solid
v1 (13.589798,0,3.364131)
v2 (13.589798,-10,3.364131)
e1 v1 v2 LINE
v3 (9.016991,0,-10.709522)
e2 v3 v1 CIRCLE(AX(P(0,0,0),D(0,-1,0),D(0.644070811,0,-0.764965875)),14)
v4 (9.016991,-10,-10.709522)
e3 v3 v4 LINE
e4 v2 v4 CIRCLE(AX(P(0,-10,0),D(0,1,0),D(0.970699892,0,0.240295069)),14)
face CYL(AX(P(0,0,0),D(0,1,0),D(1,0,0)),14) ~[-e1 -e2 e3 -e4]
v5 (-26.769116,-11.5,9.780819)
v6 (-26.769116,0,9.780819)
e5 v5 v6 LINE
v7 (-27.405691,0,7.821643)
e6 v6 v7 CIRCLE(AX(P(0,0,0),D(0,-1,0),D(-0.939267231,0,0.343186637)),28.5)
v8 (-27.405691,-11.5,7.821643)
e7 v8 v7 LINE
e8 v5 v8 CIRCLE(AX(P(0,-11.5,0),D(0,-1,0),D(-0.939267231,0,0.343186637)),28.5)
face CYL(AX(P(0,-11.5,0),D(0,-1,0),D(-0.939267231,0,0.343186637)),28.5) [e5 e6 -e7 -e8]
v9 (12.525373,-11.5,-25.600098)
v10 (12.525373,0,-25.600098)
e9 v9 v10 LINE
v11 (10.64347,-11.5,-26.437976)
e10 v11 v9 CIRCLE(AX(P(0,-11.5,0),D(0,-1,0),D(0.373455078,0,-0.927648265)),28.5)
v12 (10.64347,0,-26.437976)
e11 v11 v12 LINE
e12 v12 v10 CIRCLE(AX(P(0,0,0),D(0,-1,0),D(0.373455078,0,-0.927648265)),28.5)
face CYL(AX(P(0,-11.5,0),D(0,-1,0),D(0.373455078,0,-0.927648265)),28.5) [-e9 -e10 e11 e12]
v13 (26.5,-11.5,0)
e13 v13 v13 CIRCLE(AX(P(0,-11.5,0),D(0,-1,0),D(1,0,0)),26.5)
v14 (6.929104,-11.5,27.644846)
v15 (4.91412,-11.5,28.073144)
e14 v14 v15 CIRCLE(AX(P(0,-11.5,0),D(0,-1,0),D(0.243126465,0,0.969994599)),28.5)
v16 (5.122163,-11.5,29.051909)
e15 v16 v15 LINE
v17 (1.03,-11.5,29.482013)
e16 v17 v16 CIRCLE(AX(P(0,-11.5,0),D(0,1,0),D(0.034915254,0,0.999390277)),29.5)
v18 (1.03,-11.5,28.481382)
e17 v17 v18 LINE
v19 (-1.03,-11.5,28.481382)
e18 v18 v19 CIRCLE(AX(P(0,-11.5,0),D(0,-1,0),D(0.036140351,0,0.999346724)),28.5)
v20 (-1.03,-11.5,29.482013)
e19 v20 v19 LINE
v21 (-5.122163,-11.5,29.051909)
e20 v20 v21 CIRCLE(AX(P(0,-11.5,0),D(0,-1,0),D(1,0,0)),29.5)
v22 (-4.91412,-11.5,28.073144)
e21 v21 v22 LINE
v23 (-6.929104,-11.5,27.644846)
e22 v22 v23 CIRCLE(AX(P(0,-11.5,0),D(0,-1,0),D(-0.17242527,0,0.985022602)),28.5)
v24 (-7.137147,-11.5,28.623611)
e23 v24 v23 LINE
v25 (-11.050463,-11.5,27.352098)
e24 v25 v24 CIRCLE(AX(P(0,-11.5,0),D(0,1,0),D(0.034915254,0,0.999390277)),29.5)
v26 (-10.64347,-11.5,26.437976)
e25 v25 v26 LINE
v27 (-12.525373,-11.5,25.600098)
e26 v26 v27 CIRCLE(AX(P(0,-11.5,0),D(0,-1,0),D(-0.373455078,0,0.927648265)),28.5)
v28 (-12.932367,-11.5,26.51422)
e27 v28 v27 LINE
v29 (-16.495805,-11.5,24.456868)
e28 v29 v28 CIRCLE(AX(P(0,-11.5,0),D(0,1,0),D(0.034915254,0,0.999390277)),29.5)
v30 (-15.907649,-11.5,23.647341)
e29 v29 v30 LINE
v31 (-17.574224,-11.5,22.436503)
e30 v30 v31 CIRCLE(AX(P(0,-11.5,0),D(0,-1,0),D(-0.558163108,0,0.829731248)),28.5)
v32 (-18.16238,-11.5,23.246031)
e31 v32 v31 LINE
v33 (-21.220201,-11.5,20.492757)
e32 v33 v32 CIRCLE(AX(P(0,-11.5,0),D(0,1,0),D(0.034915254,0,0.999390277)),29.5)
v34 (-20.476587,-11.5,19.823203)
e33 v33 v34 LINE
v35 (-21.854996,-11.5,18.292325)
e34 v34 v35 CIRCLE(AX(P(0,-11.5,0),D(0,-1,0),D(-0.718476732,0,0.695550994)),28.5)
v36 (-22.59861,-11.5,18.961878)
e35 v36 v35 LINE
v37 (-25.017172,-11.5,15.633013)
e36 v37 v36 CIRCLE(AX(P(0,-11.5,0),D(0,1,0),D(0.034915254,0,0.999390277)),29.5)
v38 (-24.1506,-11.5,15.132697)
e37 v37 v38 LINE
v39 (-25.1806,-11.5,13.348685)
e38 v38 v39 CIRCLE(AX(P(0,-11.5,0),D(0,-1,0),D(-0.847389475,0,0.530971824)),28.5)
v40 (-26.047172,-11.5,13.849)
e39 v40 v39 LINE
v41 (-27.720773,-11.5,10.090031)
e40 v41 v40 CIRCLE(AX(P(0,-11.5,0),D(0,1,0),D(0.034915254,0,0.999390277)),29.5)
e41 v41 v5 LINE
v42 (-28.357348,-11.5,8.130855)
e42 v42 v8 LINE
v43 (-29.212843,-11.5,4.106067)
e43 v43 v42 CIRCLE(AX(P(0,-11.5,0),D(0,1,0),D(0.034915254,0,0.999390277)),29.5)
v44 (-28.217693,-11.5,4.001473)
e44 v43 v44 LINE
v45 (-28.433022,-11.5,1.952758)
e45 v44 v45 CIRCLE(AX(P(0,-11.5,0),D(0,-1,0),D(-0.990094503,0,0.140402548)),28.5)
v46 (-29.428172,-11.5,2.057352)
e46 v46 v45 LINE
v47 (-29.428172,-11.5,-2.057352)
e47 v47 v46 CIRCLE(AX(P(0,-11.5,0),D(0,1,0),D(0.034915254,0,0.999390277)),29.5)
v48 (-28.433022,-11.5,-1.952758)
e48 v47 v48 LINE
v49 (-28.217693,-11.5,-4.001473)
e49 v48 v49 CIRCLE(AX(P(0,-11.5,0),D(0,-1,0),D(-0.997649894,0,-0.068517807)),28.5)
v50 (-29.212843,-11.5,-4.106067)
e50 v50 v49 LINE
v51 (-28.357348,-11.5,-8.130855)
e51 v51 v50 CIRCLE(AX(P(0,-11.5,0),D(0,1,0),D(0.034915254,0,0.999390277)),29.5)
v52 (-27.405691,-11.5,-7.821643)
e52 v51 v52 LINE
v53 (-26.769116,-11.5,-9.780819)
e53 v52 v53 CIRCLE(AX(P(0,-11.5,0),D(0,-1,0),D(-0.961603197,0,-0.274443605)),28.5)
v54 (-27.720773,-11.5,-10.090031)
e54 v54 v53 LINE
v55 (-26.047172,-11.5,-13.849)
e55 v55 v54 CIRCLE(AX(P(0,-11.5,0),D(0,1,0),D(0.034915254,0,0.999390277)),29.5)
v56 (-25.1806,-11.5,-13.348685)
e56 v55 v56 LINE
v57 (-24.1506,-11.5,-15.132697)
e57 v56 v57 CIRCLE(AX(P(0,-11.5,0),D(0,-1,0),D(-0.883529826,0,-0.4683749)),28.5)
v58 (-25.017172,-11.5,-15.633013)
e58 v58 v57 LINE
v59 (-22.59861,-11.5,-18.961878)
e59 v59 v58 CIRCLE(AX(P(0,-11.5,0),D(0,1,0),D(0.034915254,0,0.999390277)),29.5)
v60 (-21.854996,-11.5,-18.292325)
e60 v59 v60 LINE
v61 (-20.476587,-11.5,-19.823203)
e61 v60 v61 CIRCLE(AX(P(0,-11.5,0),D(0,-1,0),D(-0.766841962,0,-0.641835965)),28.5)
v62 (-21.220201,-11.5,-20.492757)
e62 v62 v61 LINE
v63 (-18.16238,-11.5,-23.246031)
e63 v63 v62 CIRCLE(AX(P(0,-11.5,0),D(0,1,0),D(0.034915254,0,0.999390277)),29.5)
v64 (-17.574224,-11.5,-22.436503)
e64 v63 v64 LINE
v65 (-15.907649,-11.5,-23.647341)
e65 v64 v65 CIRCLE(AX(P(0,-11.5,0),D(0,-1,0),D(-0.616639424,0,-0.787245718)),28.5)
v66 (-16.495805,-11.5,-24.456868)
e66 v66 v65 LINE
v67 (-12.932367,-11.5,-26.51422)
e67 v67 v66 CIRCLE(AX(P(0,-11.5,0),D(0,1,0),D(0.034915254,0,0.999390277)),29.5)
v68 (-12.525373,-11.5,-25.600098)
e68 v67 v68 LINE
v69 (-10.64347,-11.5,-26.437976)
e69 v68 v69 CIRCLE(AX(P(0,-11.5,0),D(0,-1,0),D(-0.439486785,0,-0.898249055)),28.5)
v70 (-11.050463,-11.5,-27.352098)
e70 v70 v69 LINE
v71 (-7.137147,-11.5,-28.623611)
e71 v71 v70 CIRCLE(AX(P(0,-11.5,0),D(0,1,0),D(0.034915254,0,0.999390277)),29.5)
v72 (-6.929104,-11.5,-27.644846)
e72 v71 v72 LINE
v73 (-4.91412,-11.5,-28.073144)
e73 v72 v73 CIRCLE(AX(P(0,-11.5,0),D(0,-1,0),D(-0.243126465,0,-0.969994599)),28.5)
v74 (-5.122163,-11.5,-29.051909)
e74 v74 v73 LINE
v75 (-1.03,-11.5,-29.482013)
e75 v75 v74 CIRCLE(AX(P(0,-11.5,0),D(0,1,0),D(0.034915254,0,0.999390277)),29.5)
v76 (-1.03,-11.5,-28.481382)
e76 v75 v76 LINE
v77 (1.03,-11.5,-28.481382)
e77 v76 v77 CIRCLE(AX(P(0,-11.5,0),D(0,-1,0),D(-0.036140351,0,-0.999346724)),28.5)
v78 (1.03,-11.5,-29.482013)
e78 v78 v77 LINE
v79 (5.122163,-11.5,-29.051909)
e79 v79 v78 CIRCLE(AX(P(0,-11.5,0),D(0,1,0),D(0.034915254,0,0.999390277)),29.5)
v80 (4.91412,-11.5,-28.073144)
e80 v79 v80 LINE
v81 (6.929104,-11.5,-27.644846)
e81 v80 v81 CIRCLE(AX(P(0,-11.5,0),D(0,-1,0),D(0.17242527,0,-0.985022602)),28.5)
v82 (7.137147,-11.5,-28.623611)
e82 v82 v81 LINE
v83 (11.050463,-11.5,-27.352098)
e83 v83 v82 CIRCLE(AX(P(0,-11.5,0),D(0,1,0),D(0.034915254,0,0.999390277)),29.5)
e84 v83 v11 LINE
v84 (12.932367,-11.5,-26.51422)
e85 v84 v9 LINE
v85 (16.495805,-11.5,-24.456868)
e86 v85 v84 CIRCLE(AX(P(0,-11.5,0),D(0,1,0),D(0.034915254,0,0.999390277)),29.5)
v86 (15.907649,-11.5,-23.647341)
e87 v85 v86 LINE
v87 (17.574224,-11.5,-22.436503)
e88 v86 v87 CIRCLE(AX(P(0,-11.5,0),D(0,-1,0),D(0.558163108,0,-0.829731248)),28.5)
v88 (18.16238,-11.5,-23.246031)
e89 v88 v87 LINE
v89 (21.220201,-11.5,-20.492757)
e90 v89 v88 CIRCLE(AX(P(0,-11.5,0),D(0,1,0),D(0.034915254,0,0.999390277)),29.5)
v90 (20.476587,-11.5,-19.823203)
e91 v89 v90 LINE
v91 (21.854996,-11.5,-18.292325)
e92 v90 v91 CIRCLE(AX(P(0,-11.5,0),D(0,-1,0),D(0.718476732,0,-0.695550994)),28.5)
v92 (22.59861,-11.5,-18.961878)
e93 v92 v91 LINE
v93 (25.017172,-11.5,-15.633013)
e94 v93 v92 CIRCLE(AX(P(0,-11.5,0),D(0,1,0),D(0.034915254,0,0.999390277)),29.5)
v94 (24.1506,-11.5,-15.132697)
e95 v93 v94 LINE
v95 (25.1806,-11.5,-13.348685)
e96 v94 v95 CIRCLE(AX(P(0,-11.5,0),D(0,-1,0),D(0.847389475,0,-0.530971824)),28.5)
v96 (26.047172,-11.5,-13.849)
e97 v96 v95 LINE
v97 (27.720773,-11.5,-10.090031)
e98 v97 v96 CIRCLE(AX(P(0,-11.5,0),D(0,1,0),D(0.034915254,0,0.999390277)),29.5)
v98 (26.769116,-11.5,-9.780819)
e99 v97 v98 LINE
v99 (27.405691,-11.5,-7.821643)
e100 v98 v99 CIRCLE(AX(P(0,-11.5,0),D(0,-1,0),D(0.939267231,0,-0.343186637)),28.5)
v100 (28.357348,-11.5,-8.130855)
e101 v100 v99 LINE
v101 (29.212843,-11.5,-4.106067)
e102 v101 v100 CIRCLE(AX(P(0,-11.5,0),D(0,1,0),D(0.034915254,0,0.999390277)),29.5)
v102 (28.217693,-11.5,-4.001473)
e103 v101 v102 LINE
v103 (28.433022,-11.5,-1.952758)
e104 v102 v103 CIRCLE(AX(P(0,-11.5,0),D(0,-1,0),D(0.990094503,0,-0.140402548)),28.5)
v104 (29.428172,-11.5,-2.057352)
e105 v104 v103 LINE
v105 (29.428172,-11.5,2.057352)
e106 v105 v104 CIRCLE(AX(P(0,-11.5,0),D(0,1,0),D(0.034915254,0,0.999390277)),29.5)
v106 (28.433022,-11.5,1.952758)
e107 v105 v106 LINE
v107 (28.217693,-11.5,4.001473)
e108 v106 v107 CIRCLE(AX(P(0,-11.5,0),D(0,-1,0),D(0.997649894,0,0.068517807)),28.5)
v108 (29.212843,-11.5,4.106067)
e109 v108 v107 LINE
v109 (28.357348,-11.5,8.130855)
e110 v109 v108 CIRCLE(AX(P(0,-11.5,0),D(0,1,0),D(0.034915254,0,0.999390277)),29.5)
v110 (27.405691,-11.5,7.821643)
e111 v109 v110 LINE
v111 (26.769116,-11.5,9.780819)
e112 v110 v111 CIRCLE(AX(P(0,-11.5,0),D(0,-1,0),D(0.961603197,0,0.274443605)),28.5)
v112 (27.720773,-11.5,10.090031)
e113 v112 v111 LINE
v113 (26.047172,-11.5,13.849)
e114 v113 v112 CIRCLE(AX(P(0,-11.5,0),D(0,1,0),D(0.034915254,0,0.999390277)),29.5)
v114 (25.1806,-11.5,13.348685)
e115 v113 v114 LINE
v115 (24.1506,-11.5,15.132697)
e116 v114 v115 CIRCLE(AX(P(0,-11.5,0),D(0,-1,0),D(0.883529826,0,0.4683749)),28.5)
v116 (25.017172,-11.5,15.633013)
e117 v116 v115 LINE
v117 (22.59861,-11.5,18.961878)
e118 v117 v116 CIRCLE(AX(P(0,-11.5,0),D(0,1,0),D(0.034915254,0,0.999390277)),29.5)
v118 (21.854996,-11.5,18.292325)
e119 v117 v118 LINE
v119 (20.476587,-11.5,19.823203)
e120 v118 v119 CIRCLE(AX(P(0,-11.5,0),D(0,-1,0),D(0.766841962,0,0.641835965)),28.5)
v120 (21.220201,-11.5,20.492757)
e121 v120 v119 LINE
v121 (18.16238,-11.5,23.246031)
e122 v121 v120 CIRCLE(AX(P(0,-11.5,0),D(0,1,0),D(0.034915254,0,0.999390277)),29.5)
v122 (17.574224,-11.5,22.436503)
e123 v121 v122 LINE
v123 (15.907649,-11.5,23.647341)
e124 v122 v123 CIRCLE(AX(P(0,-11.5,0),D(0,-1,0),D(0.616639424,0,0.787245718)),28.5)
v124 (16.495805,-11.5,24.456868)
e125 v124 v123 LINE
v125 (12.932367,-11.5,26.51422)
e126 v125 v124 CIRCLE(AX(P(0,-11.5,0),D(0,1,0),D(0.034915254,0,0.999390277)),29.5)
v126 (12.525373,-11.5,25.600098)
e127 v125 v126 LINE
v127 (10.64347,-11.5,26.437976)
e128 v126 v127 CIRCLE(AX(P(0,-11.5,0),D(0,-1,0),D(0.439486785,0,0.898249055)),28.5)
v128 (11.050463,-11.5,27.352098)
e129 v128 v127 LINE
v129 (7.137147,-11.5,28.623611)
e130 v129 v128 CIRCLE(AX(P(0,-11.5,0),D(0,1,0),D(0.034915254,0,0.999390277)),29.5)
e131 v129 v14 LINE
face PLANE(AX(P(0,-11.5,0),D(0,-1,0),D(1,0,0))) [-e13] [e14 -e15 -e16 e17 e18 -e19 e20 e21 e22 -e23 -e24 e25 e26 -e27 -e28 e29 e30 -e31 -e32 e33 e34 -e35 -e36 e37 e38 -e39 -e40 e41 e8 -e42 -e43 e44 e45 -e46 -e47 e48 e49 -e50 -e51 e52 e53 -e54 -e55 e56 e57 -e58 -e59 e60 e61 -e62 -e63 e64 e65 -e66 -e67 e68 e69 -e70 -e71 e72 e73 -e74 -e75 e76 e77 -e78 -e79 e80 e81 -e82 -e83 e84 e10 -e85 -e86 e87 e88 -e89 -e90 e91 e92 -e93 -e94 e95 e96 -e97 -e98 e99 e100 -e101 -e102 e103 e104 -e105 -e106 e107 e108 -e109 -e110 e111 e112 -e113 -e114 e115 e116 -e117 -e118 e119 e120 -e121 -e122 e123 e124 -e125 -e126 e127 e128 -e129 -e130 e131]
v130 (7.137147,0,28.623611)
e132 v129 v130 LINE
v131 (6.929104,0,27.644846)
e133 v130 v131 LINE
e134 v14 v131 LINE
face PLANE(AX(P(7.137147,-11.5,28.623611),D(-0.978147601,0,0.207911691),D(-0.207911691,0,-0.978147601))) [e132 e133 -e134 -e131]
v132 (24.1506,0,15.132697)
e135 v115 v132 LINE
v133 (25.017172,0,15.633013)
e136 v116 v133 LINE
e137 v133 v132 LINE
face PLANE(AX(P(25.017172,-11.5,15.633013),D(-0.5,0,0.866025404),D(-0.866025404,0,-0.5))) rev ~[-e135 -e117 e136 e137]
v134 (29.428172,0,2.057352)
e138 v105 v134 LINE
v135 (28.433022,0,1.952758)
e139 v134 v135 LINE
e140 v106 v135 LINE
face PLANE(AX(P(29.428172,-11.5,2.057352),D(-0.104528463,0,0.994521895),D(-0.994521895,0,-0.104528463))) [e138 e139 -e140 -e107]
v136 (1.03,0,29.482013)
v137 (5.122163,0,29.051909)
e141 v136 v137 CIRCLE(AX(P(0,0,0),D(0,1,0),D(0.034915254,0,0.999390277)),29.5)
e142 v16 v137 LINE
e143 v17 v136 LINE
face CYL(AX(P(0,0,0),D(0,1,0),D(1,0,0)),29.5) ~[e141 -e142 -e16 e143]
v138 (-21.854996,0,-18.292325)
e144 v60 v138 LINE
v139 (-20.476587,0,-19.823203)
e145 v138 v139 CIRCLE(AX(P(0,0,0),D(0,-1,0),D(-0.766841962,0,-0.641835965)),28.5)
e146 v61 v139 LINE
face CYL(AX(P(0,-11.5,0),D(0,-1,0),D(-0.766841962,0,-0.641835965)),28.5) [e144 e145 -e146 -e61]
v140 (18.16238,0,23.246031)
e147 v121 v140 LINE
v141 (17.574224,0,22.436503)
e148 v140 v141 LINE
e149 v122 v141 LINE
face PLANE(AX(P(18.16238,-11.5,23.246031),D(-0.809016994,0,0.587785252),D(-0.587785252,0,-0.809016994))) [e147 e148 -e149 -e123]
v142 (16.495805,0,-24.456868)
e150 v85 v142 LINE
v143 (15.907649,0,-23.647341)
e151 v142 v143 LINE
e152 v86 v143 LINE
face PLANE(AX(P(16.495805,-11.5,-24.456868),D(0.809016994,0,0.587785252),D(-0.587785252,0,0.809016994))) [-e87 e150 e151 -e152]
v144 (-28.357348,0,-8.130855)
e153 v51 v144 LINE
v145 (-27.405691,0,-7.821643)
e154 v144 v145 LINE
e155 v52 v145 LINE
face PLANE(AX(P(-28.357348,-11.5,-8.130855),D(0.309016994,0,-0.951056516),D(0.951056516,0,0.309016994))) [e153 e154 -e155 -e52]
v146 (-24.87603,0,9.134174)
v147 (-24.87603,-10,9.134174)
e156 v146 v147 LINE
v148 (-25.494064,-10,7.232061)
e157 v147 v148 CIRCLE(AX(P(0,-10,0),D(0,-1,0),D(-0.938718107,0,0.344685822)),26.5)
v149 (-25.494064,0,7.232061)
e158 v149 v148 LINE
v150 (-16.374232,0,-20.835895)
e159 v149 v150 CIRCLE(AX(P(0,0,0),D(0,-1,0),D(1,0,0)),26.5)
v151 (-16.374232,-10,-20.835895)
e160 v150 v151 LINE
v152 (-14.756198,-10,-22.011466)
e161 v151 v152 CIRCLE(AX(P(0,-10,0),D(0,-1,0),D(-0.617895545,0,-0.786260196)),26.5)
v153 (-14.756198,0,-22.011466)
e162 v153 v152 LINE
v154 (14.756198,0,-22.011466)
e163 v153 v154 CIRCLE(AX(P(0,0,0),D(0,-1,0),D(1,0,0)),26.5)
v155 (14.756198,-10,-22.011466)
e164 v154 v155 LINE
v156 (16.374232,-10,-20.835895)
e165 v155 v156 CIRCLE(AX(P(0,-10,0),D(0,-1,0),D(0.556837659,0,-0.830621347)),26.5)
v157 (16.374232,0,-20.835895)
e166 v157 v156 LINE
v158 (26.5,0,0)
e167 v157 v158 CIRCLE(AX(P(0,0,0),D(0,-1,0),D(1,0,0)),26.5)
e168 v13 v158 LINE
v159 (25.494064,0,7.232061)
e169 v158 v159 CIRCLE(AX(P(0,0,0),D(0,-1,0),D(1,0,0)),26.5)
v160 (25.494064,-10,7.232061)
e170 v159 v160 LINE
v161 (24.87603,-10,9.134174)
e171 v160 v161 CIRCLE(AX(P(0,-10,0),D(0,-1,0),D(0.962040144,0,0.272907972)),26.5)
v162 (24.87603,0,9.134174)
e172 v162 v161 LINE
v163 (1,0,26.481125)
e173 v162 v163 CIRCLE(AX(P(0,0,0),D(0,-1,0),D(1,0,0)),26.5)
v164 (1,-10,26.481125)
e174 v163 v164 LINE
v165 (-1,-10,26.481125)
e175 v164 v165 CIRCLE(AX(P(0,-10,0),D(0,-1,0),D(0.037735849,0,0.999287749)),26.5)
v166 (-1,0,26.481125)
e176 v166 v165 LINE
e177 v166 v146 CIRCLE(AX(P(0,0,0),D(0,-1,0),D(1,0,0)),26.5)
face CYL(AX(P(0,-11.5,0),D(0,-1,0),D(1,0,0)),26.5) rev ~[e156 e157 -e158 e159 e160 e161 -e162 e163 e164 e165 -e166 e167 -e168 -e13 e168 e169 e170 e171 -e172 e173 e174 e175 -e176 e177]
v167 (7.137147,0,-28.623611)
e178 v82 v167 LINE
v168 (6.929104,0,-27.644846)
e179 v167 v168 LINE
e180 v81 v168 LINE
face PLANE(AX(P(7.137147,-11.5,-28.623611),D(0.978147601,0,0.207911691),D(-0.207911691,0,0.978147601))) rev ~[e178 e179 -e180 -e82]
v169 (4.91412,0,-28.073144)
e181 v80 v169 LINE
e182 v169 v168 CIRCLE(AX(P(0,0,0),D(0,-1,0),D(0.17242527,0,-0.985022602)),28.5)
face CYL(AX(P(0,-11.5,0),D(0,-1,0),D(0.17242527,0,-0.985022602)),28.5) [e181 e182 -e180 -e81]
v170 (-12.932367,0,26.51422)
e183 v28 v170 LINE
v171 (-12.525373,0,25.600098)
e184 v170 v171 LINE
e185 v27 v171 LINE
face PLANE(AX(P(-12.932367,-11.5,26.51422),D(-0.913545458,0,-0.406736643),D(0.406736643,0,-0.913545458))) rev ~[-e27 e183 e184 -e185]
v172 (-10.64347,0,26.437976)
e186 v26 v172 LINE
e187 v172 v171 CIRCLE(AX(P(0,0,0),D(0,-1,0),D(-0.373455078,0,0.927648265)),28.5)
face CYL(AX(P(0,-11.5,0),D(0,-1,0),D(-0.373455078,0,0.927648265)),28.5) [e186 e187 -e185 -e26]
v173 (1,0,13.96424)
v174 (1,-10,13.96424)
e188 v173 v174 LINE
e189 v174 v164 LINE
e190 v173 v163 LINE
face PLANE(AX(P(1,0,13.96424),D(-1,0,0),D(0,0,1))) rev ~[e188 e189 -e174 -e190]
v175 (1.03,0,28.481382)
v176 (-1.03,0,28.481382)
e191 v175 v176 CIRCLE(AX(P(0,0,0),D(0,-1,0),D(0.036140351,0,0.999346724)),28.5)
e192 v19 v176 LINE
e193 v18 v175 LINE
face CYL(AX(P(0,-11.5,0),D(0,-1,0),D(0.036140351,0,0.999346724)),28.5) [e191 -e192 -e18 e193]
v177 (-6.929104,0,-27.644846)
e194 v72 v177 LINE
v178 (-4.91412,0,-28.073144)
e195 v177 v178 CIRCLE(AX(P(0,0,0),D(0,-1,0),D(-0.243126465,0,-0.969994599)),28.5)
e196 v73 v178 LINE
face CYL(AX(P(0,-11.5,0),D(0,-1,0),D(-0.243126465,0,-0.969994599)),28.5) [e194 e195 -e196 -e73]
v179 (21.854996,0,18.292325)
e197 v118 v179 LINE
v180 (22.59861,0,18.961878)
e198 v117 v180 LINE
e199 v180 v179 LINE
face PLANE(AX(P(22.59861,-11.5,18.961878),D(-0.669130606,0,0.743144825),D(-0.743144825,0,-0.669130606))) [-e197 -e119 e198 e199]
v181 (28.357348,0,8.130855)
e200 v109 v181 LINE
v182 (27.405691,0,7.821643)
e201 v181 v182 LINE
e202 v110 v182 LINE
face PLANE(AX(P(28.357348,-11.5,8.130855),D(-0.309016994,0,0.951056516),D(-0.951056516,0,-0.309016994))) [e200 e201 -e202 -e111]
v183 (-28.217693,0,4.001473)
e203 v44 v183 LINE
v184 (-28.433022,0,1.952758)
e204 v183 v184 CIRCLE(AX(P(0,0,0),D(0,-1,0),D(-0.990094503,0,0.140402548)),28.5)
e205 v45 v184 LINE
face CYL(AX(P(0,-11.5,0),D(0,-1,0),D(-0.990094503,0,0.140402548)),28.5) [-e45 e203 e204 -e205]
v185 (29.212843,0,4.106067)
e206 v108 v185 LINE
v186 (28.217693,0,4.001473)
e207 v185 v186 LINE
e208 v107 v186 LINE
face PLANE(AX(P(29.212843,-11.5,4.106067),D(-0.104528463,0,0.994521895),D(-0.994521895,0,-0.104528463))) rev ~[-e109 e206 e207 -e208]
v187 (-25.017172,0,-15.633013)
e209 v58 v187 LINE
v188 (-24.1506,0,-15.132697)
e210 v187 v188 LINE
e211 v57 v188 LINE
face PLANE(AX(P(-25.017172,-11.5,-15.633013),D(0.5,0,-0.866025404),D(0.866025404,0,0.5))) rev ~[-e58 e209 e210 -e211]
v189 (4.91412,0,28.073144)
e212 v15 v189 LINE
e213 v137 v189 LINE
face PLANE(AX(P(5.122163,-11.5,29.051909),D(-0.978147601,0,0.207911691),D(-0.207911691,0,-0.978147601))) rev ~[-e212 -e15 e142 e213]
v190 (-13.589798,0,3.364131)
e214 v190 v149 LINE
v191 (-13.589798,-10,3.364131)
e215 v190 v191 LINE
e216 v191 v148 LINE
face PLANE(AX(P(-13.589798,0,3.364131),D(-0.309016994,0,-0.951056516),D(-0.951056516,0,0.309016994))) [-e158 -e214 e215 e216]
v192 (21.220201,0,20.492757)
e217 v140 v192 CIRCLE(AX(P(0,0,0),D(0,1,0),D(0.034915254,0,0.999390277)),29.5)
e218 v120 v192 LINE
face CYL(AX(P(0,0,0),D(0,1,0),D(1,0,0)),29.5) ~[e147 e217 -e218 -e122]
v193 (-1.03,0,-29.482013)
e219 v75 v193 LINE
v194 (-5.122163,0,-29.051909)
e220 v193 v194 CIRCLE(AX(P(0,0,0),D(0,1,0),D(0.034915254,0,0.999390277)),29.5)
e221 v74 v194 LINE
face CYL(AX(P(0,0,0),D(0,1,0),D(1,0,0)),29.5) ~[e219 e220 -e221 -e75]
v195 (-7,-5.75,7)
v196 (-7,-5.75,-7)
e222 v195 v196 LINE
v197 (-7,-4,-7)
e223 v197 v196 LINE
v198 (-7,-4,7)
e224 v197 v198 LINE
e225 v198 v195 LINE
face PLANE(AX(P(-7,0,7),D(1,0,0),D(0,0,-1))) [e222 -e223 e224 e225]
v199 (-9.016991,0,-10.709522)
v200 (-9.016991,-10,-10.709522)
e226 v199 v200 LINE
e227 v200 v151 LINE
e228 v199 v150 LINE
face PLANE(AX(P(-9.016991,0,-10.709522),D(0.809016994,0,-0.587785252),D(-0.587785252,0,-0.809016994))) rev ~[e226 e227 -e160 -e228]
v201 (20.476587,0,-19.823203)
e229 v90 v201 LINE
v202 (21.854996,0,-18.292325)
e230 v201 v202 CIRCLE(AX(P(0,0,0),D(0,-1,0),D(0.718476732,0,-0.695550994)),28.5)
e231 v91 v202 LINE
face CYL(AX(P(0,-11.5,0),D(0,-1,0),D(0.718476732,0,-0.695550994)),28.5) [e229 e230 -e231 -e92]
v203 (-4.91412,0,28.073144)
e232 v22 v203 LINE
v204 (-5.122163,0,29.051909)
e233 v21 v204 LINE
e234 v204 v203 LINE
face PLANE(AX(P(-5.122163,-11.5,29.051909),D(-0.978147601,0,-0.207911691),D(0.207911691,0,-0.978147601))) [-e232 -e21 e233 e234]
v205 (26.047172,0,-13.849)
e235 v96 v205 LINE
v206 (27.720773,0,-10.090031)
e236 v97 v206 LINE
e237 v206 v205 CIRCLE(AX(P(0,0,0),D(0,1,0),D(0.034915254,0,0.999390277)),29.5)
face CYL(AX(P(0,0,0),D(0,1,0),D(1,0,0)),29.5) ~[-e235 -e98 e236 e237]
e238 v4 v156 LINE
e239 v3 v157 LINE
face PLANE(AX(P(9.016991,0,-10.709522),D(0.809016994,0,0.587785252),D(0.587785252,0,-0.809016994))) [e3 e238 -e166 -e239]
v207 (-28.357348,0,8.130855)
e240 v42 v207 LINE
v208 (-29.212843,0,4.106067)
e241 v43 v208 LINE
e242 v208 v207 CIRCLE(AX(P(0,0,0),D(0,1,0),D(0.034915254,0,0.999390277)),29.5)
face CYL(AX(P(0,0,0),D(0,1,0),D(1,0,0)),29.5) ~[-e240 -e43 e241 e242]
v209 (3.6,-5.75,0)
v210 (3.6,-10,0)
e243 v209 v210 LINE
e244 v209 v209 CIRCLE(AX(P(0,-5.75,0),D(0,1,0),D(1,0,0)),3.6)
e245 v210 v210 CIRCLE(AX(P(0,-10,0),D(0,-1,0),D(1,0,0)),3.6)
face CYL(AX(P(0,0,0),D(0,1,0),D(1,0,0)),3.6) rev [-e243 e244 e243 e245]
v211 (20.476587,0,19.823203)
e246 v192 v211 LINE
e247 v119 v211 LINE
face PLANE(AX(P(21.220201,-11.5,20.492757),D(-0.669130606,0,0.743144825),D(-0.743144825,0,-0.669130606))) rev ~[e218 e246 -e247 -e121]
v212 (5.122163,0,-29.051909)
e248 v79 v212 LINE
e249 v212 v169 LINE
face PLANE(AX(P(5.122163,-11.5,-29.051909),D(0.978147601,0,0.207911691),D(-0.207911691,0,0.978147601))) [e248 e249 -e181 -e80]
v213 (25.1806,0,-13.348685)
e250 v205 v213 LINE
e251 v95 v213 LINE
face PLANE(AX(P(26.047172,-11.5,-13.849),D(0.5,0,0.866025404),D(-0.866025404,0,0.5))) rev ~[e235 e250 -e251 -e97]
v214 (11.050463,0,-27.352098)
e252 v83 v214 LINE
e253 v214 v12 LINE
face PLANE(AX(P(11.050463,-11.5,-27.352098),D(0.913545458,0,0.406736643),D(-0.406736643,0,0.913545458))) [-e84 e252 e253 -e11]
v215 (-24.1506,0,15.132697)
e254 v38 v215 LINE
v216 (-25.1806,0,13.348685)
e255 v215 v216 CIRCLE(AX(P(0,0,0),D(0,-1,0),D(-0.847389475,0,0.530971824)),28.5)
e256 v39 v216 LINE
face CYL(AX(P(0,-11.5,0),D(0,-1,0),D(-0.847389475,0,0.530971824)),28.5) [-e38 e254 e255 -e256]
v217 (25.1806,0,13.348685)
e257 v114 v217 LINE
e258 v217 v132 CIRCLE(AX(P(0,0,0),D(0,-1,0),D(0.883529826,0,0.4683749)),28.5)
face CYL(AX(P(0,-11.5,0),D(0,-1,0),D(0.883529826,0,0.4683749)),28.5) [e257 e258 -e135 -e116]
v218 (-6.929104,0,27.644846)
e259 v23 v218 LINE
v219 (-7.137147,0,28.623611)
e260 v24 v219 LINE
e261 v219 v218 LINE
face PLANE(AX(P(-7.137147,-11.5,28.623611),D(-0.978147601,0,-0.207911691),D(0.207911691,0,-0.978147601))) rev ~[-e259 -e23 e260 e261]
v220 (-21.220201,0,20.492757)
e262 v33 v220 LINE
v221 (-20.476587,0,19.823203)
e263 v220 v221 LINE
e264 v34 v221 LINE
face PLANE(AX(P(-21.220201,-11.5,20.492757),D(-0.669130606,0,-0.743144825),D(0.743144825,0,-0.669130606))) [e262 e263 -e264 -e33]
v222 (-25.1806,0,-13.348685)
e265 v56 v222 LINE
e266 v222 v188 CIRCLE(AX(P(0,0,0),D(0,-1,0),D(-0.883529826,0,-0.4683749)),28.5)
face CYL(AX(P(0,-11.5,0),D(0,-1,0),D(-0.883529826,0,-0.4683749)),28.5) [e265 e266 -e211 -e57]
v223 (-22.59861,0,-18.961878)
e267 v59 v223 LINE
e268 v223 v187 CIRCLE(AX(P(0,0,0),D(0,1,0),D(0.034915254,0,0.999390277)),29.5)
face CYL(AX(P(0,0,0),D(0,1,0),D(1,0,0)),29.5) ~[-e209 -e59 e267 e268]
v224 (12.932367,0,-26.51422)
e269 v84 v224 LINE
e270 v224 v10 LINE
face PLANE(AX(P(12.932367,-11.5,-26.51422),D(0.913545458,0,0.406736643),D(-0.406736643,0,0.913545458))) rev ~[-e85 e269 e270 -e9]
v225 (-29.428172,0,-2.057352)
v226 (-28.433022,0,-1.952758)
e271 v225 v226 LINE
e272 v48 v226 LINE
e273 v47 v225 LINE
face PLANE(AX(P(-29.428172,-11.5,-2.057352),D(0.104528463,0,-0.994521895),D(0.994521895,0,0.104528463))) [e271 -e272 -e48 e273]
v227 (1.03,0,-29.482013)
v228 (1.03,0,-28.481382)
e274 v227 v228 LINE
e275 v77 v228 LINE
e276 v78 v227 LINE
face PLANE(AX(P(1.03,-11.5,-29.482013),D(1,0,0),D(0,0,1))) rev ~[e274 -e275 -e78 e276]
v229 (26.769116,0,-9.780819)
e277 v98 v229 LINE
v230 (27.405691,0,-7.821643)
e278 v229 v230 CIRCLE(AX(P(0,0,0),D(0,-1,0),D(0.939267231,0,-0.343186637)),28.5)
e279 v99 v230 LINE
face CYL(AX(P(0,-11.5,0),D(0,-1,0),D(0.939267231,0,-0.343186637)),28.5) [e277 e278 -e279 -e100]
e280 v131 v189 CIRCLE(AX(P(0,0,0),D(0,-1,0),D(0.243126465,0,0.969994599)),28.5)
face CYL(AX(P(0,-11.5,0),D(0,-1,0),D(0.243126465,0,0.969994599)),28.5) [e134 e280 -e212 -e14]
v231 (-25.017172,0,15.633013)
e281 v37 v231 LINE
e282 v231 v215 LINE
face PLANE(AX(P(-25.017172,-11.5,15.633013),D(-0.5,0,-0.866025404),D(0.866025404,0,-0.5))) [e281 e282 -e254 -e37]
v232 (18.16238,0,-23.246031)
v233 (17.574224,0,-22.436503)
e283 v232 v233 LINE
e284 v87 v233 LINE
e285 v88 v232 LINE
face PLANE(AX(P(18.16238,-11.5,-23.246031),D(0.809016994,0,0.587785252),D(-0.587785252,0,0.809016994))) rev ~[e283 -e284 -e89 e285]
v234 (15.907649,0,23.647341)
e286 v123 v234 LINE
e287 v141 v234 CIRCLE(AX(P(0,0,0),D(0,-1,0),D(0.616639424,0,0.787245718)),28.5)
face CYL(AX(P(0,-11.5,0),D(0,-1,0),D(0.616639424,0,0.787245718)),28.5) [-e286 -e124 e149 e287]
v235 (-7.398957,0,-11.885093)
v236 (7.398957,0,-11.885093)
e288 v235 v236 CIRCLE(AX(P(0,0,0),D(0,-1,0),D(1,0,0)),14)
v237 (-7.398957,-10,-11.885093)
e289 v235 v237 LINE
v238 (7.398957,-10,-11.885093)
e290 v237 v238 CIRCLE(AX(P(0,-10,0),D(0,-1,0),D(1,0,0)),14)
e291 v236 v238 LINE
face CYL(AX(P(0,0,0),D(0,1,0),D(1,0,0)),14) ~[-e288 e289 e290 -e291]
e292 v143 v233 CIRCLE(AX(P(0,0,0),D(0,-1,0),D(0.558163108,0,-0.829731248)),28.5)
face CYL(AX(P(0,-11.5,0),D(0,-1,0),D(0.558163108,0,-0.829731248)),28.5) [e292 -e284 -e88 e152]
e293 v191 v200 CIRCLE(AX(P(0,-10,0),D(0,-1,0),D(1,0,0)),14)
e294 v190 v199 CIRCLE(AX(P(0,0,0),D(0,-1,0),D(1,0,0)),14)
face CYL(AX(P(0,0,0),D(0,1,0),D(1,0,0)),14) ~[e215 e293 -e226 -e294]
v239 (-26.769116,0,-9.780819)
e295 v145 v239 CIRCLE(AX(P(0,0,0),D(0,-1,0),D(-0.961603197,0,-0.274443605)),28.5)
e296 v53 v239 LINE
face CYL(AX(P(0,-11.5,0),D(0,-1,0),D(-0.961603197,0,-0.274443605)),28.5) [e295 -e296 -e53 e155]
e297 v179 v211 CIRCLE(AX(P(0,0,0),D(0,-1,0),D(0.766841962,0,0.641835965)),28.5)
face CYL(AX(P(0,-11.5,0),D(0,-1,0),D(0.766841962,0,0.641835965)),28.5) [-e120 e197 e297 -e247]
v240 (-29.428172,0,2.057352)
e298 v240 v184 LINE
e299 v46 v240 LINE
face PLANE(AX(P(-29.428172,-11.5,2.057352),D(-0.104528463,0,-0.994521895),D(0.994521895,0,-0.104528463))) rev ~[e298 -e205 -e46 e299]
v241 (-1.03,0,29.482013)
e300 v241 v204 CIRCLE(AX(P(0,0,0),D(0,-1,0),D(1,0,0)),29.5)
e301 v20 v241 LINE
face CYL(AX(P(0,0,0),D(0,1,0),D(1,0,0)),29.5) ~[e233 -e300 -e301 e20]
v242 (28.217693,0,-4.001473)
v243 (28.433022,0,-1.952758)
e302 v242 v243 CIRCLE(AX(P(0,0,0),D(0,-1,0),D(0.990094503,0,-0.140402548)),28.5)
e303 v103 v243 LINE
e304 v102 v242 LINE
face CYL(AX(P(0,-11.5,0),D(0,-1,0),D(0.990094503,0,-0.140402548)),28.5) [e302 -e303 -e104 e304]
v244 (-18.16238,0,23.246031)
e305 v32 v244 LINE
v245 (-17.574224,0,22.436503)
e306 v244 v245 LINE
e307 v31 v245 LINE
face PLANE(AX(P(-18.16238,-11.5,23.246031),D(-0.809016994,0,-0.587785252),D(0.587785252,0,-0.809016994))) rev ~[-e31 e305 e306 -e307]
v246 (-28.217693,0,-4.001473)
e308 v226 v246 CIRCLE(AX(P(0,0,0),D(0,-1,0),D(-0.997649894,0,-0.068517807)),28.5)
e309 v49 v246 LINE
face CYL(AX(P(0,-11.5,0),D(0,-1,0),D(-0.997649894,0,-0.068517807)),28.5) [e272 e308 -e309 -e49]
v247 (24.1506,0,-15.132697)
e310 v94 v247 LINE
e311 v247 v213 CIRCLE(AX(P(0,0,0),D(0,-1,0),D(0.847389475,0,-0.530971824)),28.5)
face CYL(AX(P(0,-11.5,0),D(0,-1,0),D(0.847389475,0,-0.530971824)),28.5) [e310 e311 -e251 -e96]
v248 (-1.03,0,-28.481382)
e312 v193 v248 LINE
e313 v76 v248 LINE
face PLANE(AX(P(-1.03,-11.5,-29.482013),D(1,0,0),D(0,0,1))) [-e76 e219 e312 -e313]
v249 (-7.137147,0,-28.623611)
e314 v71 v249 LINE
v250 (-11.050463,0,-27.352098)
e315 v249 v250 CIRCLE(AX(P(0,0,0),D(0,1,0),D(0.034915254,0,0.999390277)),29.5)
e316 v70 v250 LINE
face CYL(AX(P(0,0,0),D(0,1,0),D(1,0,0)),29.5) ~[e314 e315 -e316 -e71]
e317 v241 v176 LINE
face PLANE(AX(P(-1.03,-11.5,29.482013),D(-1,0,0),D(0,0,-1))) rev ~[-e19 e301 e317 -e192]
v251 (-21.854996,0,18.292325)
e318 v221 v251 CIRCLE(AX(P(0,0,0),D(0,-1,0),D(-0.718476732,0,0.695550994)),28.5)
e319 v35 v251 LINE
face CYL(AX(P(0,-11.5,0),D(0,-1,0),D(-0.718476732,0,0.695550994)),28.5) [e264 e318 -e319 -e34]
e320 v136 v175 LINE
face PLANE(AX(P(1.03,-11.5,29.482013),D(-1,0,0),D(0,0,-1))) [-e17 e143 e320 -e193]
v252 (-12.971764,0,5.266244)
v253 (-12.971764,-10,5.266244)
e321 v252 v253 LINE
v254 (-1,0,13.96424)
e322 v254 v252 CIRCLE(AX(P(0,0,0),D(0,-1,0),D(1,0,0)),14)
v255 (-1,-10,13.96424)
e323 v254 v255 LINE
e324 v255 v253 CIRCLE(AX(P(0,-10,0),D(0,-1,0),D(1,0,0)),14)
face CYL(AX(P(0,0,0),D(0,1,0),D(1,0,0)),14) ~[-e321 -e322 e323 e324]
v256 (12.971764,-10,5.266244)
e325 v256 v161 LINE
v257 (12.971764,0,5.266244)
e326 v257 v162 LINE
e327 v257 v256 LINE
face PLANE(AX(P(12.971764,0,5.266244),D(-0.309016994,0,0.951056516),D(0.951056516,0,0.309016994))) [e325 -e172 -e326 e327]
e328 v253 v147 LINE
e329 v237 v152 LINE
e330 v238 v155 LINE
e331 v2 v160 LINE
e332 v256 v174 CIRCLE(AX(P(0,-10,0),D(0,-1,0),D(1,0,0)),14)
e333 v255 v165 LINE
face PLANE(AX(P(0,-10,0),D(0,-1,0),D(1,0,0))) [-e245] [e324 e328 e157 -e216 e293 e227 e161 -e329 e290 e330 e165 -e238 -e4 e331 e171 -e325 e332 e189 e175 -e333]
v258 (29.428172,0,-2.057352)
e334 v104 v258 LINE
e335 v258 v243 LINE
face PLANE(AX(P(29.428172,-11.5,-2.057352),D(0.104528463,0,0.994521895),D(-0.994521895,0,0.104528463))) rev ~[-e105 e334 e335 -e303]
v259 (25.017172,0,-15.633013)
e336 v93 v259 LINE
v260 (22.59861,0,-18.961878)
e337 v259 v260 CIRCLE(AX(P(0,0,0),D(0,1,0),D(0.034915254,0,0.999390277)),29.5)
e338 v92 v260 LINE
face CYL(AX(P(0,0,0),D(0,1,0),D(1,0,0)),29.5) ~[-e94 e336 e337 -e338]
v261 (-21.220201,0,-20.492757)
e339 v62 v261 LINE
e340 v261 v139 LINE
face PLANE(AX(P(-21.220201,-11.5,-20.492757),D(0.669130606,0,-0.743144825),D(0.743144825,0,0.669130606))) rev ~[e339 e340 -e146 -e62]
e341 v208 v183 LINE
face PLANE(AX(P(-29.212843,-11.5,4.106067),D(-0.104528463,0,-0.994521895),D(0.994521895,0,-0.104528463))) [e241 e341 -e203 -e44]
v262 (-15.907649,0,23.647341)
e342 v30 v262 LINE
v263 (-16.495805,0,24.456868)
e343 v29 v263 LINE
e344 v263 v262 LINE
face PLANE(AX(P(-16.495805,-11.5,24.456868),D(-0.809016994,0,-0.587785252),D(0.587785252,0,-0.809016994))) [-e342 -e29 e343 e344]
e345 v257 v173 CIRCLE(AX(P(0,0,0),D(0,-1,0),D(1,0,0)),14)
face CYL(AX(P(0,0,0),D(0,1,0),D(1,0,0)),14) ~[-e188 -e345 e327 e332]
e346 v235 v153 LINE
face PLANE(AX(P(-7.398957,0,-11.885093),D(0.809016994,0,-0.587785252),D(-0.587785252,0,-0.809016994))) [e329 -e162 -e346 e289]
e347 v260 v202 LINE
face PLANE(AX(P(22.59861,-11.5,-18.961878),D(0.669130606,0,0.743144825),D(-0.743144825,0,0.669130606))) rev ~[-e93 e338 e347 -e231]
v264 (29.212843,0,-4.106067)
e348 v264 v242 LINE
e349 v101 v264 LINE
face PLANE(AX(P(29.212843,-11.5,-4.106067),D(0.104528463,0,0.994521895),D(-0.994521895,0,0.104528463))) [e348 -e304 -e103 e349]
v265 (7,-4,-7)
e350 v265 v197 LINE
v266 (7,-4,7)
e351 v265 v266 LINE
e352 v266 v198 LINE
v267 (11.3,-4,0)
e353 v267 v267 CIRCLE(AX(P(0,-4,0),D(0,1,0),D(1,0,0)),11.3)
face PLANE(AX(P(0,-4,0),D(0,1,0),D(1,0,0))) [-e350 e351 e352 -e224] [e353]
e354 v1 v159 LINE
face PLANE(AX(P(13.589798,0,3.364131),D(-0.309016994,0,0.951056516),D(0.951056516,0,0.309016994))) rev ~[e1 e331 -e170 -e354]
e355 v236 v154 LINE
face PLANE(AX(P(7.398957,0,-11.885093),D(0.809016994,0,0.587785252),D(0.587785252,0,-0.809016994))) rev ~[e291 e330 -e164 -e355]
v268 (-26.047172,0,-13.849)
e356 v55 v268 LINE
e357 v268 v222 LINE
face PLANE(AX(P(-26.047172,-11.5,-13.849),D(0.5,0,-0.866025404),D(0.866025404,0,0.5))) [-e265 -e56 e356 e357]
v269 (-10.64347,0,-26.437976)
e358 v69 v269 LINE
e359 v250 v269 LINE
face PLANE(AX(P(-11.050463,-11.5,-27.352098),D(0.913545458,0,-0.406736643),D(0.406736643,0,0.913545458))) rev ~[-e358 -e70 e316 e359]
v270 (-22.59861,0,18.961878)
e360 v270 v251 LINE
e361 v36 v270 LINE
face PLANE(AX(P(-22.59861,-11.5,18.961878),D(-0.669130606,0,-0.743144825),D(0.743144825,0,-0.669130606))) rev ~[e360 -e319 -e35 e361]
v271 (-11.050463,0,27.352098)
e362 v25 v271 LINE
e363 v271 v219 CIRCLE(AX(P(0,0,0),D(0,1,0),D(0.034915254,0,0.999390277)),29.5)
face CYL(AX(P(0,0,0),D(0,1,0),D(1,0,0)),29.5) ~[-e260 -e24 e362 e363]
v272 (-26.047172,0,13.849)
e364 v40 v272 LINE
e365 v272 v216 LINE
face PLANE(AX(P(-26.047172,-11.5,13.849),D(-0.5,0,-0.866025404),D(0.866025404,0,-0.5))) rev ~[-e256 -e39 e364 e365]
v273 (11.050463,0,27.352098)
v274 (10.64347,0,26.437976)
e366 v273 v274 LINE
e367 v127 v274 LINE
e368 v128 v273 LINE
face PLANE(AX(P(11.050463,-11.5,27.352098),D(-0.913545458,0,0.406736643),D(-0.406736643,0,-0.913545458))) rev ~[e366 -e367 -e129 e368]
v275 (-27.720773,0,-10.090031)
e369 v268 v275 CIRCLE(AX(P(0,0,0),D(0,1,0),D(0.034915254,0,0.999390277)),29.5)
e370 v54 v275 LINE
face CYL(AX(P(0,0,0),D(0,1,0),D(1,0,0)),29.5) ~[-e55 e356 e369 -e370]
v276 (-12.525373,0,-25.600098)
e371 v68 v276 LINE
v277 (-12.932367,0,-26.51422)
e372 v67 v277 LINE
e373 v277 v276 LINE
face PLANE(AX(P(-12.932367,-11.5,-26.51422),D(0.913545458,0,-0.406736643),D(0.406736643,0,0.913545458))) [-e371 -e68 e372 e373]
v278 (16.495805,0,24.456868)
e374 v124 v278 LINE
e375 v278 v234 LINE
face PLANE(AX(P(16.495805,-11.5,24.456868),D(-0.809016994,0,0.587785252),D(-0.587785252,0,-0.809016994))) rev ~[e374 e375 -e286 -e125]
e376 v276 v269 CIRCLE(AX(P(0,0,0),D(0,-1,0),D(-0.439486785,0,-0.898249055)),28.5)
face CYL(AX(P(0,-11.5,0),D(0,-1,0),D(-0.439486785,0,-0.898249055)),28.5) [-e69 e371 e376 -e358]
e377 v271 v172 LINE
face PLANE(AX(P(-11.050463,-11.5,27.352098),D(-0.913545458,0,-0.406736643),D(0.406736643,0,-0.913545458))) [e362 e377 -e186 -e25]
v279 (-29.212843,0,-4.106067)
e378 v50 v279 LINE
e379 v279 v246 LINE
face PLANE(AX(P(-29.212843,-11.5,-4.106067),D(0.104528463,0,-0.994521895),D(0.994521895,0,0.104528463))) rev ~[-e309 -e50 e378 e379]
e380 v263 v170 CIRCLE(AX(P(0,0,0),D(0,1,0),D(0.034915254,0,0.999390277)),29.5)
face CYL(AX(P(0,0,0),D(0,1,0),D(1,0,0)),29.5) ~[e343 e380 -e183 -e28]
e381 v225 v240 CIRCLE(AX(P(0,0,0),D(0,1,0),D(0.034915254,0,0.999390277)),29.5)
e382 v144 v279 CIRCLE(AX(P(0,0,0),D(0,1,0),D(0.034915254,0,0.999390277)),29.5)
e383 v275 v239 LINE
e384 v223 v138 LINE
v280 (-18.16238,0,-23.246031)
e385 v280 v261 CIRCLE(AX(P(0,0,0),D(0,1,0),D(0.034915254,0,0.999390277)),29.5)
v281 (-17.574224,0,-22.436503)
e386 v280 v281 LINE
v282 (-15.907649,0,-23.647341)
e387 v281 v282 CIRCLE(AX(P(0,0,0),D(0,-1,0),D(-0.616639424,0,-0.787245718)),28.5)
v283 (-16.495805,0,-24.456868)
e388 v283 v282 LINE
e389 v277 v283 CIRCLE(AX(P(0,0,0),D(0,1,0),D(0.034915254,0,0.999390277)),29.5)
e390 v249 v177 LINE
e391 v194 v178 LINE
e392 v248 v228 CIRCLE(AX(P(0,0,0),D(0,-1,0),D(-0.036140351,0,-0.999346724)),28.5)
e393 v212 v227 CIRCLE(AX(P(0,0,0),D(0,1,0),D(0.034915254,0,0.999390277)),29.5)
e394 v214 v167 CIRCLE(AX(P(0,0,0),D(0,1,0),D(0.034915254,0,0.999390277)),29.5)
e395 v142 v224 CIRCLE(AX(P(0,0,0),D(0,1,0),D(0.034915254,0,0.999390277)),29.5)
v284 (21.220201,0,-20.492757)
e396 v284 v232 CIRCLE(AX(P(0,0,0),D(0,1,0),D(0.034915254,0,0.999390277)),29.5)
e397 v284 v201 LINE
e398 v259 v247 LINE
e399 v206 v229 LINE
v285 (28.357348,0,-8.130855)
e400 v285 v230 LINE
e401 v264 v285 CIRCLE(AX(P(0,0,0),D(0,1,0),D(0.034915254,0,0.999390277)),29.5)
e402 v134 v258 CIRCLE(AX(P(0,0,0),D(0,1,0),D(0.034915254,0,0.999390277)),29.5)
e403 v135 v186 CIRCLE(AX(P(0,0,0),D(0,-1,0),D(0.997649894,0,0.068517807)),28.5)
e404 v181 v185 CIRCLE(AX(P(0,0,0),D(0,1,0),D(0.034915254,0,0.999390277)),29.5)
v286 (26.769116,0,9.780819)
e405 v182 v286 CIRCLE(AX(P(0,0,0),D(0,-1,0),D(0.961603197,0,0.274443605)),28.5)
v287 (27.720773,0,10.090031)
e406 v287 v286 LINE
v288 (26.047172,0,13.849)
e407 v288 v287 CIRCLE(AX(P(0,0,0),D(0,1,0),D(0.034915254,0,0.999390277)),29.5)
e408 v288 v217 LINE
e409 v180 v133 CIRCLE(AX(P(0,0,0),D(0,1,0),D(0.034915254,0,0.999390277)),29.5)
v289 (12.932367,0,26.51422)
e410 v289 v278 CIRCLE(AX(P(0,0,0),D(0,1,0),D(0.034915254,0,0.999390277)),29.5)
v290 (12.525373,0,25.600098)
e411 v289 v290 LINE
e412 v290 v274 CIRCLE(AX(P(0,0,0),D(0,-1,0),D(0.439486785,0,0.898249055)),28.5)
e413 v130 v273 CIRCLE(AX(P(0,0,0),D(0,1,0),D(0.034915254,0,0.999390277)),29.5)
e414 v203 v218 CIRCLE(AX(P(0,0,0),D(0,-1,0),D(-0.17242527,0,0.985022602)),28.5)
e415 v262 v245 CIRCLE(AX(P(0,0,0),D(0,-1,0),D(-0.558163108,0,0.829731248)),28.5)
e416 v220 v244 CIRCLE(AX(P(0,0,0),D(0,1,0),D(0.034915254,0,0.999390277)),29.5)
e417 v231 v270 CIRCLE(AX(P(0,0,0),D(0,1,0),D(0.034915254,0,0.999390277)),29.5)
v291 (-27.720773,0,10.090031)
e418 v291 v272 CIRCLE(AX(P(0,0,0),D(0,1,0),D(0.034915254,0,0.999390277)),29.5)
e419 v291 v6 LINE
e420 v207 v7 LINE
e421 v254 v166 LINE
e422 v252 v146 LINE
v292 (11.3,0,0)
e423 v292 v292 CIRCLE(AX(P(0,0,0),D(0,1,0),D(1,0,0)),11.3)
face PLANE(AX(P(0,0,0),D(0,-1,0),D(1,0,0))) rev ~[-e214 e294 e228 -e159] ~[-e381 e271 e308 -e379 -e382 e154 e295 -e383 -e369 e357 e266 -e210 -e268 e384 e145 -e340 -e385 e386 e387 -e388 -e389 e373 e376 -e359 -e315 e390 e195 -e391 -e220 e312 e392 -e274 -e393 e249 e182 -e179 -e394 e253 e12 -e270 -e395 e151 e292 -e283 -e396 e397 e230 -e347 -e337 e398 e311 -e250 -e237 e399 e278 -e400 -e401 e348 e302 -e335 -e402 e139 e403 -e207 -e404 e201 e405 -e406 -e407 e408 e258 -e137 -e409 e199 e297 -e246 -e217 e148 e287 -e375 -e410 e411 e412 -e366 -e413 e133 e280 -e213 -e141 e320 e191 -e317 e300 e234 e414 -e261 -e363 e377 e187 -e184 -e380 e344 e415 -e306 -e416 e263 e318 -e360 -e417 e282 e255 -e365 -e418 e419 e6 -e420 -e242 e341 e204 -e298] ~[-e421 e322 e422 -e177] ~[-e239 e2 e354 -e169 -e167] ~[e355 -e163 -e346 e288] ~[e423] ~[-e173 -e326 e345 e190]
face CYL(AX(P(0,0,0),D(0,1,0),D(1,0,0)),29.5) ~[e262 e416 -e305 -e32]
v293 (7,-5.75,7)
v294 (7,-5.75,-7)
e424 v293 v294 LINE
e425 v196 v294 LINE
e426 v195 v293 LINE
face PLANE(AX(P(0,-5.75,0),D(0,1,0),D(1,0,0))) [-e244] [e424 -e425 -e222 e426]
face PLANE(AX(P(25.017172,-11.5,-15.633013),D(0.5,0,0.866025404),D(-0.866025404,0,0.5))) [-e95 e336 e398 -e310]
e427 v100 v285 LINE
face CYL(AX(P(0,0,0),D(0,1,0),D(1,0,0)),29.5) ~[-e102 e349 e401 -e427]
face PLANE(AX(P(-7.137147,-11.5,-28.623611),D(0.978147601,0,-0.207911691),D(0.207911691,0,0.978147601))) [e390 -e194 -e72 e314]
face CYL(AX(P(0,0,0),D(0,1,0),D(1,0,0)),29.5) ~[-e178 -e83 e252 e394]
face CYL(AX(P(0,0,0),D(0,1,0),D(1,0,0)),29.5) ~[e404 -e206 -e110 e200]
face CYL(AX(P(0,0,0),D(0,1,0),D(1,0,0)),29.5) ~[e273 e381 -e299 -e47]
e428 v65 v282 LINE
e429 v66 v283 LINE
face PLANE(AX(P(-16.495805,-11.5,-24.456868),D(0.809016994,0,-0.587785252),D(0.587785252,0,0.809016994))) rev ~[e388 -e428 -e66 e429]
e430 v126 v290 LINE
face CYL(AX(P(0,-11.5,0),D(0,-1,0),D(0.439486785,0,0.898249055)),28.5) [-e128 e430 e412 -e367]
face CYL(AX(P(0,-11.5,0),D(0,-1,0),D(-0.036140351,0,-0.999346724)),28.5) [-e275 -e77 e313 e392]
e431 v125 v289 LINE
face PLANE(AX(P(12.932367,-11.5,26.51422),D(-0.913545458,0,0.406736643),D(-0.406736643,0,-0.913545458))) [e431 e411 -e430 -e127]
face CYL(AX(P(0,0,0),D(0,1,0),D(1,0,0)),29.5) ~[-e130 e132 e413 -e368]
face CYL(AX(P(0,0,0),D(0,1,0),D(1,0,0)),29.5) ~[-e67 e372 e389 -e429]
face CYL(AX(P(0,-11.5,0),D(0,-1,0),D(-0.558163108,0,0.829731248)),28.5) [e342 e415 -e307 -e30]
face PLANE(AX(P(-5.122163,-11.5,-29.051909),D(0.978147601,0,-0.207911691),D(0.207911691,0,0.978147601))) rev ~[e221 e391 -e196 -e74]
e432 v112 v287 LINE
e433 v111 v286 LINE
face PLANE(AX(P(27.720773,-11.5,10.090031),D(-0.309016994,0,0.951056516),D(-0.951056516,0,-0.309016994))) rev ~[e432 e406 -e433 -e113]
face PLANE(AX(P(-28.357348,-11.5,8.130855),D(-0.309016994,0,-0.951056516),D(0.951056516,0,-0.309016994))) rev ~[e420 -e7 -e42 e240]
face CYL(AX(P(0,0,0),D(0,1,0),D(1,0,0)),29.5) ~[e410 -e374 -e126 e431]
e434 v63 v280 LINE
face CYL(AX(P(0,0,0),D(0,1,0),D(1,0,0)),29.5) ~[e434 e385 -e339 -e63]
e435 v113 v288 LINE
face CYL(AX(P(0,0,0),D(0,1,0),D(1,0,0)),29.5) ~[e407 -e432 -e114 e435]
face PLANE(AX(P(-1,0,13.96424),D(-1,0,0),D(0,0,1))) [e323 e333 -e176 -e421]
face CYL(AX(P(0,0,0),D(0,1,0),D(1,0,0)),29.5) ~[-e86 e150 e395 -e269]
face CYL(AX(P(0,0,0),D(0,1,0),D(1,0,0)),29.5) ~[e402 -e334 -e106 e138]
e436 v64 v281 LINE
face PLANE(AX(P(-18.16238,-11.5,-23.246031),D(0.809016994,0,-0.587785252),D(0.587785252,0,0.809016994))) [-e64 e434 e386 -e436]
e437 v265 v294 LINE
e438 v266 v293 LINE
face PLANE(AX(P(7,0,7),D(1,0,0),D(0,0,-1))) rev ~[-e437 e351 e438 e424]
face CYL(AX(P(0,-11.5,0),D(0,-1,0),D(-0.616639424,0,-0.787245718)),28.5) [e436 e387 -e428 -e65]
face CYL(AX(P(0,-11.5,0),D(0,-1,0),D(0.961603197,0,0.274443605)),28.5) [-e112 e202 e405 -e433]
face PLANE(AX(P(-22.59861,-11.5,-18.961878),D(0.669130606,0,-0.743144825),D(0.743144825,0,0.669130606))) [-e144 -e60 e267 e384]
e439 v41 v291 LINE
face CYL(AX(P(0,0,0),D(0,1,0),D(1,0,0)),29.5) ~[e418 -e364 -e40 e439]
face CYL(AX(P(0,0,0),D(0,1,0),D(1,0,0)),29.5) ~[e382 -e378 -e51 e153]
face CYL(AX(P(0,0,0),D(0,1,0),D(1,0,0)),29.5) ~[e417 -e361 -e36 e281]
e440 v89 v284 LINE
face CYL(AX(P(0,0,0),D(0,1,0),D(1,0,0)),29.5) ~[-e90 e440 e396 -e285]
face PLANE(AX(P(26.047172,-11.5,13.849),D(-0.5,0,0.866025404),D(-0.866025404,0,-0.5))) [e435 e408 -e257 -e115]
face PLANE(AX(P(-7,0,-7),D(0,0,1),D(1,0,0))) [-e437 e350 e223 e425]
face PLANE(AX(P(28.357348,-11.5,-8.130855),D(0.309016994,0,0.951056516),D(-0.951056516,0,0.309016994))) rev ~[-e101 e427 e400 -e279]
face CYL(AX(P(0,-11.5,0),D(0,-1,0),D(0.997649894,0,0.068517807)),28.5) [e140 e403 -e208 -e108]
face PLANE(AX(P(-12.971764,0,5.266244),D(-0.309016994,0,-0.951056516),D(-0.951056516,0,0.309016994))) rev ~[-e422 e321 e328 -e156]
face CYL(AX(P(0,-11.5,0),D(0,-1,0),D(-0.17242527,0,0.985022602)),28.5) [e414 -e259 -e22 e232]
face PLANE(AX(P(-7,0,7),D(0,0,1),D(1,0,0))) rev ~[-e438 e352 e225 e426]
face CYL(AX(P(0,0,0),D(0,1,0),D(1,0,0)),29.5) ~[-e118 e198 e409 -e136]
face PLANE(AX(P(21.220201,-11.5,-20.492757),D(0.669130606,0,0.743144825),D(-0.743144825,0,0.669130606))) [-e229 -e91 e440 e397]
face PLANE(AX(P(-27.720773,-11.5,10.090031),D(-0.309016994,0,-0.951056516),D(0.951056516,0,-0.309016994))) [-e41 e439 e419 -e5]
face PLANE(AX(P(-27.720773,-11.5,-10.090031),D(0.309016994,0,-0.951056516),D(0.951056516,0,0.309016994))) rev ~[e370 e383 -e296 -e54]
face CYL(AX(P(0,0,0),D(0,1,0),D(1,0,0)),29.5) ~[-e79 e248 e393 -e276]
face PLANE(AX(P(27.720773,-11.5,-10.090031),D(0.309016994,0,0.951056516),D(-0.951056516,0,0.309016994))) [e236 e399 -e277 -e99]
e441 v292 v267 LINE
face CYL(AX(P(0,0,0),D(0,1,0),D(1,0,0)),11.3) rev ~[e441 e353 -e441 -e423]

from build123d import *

# Parameters (mm, degrees)
SKETCH_R              = 29.5
PAD_DEPTH             = 11.5
SKETCH001_R           = 26.5
POCKET_DEPTH          = 11.501
PAD001_DEPTH          = 10
POLARPATTERN_COUNT    = 5
SKETCH003_R           = 14
SKETCH003_R_2         = 3.6
PAD002_DEPTH          = 10
SKETCH004_W           = 14
SKETCH004_H           = 14
POCKET001_DEPTH       = 5.75
SKETCH005_R           = 11.3
POCKET002_DEPTH       = 4
POCKET003_DEPTH       = 179.9557416964
POLARPATTERN001_COUNT = 30


with BuildPart() as part:
    # Sketch → Pad (new body)
    with BuildSketch(Plane.XZ):
        Circle(SKETCH_R)
    extrude(amount=PAD_DEPTH)

    # Sketch001 (on Face3 of Pad) → Pocket (cut, through all)
    with BuildSketch(Plane.XZ.offset(11.5)):
        Circle(SKETCH001_R)
    extrude(amount=-POCKET_DEPTH, mode=Mode.SUBTRACT)

    # Sketch002 → Pad001 (join)
    with BuildSketch(Plane.XZ):
        with BuildLine():
            ThreePointArc((1, 13.9642400438), (0, 14), (-1, 13.9642400438))
            Line((-1, 13.9642400438), (-1, 26.4811253537))
            ThreePointArc((1, 26.4811253537), (0, 26.5), (-1, 26.4811253537))
            Line((1, 13.9642400438), (1, 26.4811253537))
        make_face()
    pad001 = extrude(amount=PAD001_DEPTH)

    # PolarPattern: Pad001 ×5 about axis
    polarpattern_axis = Axis((0, 0, 0), (0, -1, 0))
    for i in range(1, POLARPATTERN_COUNT):
        add(pad001.rotate(polarpattern_axis, i * 360 / POLARPATTERN_COUNT))

    # Sketch003 → Pad002 (join)
    with BuildSketch(Plane.XZ):
        Circle(SKETCH003_R)
        Circle(SKETCH003_R_2, mode=Mode.SUBTRACT)
    extrude(amount=PAD002_DEPTH)

    # Sketch004 (on Face2 of Pad002) → Pocket001 (cut)
    with BuildSketch(Plane(origin=(0, 0, 0), x_dir=(1, 0, 0), z_dir=(0, 1, 0))):
        Rectangle(SKETCH004_W, SKETCH004_H)
    extrude(amount=-POCKET001_DEPTH, mode=Mode.SUBTRACT)

    # Sketch005 (on Face2 of Pocket001) → Pocket002 (cut)
    with BuildSketch(Plane(origin=(0, 0, 0), x_dir=(1, 0, 0), z_dir=(0, 1, 0))):
        Circle(SKETCH005_R)
    extrude(amount=-POCKET002_DEPTH, mode=Mode.SUBTRACT)

    # Sketch006 (on Face34 of Pocket002) → Pocket003 (cut, through all)
    with BuildSketch(Plane.XZ.offset(11.5)):
        with BuildLine():
            Line((-1.03, 29.4820131606), (-1.03, 28.4813816379))
            ThreePointArc((1.03, 28.4813816378), (0, 28.5), (-1.03, 28.4813816378))
            Line((1.03, 29.4820131606), (1.03, 28.4813816378))
            ThreePointArc((1.03, 29.4820131606), (0, 29.5), (-1.03, 29.4820131606))
        make_face()
    pocket003 = extrude(amount=-POCKET003_DEPTH, mode=Mode.SUBTRACT)

    # PolarPattern001: Pocket003 ×30 about axis
    polarpattern001_axis = Axis((0, -11.5, 0), (0, -1, 0))
    for i in range(1, POLARPATTERN001_COUNT):
        add(pocket003.rotate(polarpattern001_axis, i * 360 / POLARPATTERN001_COUNT), mode=Mode.SUBTRACT)


solid = part.part
